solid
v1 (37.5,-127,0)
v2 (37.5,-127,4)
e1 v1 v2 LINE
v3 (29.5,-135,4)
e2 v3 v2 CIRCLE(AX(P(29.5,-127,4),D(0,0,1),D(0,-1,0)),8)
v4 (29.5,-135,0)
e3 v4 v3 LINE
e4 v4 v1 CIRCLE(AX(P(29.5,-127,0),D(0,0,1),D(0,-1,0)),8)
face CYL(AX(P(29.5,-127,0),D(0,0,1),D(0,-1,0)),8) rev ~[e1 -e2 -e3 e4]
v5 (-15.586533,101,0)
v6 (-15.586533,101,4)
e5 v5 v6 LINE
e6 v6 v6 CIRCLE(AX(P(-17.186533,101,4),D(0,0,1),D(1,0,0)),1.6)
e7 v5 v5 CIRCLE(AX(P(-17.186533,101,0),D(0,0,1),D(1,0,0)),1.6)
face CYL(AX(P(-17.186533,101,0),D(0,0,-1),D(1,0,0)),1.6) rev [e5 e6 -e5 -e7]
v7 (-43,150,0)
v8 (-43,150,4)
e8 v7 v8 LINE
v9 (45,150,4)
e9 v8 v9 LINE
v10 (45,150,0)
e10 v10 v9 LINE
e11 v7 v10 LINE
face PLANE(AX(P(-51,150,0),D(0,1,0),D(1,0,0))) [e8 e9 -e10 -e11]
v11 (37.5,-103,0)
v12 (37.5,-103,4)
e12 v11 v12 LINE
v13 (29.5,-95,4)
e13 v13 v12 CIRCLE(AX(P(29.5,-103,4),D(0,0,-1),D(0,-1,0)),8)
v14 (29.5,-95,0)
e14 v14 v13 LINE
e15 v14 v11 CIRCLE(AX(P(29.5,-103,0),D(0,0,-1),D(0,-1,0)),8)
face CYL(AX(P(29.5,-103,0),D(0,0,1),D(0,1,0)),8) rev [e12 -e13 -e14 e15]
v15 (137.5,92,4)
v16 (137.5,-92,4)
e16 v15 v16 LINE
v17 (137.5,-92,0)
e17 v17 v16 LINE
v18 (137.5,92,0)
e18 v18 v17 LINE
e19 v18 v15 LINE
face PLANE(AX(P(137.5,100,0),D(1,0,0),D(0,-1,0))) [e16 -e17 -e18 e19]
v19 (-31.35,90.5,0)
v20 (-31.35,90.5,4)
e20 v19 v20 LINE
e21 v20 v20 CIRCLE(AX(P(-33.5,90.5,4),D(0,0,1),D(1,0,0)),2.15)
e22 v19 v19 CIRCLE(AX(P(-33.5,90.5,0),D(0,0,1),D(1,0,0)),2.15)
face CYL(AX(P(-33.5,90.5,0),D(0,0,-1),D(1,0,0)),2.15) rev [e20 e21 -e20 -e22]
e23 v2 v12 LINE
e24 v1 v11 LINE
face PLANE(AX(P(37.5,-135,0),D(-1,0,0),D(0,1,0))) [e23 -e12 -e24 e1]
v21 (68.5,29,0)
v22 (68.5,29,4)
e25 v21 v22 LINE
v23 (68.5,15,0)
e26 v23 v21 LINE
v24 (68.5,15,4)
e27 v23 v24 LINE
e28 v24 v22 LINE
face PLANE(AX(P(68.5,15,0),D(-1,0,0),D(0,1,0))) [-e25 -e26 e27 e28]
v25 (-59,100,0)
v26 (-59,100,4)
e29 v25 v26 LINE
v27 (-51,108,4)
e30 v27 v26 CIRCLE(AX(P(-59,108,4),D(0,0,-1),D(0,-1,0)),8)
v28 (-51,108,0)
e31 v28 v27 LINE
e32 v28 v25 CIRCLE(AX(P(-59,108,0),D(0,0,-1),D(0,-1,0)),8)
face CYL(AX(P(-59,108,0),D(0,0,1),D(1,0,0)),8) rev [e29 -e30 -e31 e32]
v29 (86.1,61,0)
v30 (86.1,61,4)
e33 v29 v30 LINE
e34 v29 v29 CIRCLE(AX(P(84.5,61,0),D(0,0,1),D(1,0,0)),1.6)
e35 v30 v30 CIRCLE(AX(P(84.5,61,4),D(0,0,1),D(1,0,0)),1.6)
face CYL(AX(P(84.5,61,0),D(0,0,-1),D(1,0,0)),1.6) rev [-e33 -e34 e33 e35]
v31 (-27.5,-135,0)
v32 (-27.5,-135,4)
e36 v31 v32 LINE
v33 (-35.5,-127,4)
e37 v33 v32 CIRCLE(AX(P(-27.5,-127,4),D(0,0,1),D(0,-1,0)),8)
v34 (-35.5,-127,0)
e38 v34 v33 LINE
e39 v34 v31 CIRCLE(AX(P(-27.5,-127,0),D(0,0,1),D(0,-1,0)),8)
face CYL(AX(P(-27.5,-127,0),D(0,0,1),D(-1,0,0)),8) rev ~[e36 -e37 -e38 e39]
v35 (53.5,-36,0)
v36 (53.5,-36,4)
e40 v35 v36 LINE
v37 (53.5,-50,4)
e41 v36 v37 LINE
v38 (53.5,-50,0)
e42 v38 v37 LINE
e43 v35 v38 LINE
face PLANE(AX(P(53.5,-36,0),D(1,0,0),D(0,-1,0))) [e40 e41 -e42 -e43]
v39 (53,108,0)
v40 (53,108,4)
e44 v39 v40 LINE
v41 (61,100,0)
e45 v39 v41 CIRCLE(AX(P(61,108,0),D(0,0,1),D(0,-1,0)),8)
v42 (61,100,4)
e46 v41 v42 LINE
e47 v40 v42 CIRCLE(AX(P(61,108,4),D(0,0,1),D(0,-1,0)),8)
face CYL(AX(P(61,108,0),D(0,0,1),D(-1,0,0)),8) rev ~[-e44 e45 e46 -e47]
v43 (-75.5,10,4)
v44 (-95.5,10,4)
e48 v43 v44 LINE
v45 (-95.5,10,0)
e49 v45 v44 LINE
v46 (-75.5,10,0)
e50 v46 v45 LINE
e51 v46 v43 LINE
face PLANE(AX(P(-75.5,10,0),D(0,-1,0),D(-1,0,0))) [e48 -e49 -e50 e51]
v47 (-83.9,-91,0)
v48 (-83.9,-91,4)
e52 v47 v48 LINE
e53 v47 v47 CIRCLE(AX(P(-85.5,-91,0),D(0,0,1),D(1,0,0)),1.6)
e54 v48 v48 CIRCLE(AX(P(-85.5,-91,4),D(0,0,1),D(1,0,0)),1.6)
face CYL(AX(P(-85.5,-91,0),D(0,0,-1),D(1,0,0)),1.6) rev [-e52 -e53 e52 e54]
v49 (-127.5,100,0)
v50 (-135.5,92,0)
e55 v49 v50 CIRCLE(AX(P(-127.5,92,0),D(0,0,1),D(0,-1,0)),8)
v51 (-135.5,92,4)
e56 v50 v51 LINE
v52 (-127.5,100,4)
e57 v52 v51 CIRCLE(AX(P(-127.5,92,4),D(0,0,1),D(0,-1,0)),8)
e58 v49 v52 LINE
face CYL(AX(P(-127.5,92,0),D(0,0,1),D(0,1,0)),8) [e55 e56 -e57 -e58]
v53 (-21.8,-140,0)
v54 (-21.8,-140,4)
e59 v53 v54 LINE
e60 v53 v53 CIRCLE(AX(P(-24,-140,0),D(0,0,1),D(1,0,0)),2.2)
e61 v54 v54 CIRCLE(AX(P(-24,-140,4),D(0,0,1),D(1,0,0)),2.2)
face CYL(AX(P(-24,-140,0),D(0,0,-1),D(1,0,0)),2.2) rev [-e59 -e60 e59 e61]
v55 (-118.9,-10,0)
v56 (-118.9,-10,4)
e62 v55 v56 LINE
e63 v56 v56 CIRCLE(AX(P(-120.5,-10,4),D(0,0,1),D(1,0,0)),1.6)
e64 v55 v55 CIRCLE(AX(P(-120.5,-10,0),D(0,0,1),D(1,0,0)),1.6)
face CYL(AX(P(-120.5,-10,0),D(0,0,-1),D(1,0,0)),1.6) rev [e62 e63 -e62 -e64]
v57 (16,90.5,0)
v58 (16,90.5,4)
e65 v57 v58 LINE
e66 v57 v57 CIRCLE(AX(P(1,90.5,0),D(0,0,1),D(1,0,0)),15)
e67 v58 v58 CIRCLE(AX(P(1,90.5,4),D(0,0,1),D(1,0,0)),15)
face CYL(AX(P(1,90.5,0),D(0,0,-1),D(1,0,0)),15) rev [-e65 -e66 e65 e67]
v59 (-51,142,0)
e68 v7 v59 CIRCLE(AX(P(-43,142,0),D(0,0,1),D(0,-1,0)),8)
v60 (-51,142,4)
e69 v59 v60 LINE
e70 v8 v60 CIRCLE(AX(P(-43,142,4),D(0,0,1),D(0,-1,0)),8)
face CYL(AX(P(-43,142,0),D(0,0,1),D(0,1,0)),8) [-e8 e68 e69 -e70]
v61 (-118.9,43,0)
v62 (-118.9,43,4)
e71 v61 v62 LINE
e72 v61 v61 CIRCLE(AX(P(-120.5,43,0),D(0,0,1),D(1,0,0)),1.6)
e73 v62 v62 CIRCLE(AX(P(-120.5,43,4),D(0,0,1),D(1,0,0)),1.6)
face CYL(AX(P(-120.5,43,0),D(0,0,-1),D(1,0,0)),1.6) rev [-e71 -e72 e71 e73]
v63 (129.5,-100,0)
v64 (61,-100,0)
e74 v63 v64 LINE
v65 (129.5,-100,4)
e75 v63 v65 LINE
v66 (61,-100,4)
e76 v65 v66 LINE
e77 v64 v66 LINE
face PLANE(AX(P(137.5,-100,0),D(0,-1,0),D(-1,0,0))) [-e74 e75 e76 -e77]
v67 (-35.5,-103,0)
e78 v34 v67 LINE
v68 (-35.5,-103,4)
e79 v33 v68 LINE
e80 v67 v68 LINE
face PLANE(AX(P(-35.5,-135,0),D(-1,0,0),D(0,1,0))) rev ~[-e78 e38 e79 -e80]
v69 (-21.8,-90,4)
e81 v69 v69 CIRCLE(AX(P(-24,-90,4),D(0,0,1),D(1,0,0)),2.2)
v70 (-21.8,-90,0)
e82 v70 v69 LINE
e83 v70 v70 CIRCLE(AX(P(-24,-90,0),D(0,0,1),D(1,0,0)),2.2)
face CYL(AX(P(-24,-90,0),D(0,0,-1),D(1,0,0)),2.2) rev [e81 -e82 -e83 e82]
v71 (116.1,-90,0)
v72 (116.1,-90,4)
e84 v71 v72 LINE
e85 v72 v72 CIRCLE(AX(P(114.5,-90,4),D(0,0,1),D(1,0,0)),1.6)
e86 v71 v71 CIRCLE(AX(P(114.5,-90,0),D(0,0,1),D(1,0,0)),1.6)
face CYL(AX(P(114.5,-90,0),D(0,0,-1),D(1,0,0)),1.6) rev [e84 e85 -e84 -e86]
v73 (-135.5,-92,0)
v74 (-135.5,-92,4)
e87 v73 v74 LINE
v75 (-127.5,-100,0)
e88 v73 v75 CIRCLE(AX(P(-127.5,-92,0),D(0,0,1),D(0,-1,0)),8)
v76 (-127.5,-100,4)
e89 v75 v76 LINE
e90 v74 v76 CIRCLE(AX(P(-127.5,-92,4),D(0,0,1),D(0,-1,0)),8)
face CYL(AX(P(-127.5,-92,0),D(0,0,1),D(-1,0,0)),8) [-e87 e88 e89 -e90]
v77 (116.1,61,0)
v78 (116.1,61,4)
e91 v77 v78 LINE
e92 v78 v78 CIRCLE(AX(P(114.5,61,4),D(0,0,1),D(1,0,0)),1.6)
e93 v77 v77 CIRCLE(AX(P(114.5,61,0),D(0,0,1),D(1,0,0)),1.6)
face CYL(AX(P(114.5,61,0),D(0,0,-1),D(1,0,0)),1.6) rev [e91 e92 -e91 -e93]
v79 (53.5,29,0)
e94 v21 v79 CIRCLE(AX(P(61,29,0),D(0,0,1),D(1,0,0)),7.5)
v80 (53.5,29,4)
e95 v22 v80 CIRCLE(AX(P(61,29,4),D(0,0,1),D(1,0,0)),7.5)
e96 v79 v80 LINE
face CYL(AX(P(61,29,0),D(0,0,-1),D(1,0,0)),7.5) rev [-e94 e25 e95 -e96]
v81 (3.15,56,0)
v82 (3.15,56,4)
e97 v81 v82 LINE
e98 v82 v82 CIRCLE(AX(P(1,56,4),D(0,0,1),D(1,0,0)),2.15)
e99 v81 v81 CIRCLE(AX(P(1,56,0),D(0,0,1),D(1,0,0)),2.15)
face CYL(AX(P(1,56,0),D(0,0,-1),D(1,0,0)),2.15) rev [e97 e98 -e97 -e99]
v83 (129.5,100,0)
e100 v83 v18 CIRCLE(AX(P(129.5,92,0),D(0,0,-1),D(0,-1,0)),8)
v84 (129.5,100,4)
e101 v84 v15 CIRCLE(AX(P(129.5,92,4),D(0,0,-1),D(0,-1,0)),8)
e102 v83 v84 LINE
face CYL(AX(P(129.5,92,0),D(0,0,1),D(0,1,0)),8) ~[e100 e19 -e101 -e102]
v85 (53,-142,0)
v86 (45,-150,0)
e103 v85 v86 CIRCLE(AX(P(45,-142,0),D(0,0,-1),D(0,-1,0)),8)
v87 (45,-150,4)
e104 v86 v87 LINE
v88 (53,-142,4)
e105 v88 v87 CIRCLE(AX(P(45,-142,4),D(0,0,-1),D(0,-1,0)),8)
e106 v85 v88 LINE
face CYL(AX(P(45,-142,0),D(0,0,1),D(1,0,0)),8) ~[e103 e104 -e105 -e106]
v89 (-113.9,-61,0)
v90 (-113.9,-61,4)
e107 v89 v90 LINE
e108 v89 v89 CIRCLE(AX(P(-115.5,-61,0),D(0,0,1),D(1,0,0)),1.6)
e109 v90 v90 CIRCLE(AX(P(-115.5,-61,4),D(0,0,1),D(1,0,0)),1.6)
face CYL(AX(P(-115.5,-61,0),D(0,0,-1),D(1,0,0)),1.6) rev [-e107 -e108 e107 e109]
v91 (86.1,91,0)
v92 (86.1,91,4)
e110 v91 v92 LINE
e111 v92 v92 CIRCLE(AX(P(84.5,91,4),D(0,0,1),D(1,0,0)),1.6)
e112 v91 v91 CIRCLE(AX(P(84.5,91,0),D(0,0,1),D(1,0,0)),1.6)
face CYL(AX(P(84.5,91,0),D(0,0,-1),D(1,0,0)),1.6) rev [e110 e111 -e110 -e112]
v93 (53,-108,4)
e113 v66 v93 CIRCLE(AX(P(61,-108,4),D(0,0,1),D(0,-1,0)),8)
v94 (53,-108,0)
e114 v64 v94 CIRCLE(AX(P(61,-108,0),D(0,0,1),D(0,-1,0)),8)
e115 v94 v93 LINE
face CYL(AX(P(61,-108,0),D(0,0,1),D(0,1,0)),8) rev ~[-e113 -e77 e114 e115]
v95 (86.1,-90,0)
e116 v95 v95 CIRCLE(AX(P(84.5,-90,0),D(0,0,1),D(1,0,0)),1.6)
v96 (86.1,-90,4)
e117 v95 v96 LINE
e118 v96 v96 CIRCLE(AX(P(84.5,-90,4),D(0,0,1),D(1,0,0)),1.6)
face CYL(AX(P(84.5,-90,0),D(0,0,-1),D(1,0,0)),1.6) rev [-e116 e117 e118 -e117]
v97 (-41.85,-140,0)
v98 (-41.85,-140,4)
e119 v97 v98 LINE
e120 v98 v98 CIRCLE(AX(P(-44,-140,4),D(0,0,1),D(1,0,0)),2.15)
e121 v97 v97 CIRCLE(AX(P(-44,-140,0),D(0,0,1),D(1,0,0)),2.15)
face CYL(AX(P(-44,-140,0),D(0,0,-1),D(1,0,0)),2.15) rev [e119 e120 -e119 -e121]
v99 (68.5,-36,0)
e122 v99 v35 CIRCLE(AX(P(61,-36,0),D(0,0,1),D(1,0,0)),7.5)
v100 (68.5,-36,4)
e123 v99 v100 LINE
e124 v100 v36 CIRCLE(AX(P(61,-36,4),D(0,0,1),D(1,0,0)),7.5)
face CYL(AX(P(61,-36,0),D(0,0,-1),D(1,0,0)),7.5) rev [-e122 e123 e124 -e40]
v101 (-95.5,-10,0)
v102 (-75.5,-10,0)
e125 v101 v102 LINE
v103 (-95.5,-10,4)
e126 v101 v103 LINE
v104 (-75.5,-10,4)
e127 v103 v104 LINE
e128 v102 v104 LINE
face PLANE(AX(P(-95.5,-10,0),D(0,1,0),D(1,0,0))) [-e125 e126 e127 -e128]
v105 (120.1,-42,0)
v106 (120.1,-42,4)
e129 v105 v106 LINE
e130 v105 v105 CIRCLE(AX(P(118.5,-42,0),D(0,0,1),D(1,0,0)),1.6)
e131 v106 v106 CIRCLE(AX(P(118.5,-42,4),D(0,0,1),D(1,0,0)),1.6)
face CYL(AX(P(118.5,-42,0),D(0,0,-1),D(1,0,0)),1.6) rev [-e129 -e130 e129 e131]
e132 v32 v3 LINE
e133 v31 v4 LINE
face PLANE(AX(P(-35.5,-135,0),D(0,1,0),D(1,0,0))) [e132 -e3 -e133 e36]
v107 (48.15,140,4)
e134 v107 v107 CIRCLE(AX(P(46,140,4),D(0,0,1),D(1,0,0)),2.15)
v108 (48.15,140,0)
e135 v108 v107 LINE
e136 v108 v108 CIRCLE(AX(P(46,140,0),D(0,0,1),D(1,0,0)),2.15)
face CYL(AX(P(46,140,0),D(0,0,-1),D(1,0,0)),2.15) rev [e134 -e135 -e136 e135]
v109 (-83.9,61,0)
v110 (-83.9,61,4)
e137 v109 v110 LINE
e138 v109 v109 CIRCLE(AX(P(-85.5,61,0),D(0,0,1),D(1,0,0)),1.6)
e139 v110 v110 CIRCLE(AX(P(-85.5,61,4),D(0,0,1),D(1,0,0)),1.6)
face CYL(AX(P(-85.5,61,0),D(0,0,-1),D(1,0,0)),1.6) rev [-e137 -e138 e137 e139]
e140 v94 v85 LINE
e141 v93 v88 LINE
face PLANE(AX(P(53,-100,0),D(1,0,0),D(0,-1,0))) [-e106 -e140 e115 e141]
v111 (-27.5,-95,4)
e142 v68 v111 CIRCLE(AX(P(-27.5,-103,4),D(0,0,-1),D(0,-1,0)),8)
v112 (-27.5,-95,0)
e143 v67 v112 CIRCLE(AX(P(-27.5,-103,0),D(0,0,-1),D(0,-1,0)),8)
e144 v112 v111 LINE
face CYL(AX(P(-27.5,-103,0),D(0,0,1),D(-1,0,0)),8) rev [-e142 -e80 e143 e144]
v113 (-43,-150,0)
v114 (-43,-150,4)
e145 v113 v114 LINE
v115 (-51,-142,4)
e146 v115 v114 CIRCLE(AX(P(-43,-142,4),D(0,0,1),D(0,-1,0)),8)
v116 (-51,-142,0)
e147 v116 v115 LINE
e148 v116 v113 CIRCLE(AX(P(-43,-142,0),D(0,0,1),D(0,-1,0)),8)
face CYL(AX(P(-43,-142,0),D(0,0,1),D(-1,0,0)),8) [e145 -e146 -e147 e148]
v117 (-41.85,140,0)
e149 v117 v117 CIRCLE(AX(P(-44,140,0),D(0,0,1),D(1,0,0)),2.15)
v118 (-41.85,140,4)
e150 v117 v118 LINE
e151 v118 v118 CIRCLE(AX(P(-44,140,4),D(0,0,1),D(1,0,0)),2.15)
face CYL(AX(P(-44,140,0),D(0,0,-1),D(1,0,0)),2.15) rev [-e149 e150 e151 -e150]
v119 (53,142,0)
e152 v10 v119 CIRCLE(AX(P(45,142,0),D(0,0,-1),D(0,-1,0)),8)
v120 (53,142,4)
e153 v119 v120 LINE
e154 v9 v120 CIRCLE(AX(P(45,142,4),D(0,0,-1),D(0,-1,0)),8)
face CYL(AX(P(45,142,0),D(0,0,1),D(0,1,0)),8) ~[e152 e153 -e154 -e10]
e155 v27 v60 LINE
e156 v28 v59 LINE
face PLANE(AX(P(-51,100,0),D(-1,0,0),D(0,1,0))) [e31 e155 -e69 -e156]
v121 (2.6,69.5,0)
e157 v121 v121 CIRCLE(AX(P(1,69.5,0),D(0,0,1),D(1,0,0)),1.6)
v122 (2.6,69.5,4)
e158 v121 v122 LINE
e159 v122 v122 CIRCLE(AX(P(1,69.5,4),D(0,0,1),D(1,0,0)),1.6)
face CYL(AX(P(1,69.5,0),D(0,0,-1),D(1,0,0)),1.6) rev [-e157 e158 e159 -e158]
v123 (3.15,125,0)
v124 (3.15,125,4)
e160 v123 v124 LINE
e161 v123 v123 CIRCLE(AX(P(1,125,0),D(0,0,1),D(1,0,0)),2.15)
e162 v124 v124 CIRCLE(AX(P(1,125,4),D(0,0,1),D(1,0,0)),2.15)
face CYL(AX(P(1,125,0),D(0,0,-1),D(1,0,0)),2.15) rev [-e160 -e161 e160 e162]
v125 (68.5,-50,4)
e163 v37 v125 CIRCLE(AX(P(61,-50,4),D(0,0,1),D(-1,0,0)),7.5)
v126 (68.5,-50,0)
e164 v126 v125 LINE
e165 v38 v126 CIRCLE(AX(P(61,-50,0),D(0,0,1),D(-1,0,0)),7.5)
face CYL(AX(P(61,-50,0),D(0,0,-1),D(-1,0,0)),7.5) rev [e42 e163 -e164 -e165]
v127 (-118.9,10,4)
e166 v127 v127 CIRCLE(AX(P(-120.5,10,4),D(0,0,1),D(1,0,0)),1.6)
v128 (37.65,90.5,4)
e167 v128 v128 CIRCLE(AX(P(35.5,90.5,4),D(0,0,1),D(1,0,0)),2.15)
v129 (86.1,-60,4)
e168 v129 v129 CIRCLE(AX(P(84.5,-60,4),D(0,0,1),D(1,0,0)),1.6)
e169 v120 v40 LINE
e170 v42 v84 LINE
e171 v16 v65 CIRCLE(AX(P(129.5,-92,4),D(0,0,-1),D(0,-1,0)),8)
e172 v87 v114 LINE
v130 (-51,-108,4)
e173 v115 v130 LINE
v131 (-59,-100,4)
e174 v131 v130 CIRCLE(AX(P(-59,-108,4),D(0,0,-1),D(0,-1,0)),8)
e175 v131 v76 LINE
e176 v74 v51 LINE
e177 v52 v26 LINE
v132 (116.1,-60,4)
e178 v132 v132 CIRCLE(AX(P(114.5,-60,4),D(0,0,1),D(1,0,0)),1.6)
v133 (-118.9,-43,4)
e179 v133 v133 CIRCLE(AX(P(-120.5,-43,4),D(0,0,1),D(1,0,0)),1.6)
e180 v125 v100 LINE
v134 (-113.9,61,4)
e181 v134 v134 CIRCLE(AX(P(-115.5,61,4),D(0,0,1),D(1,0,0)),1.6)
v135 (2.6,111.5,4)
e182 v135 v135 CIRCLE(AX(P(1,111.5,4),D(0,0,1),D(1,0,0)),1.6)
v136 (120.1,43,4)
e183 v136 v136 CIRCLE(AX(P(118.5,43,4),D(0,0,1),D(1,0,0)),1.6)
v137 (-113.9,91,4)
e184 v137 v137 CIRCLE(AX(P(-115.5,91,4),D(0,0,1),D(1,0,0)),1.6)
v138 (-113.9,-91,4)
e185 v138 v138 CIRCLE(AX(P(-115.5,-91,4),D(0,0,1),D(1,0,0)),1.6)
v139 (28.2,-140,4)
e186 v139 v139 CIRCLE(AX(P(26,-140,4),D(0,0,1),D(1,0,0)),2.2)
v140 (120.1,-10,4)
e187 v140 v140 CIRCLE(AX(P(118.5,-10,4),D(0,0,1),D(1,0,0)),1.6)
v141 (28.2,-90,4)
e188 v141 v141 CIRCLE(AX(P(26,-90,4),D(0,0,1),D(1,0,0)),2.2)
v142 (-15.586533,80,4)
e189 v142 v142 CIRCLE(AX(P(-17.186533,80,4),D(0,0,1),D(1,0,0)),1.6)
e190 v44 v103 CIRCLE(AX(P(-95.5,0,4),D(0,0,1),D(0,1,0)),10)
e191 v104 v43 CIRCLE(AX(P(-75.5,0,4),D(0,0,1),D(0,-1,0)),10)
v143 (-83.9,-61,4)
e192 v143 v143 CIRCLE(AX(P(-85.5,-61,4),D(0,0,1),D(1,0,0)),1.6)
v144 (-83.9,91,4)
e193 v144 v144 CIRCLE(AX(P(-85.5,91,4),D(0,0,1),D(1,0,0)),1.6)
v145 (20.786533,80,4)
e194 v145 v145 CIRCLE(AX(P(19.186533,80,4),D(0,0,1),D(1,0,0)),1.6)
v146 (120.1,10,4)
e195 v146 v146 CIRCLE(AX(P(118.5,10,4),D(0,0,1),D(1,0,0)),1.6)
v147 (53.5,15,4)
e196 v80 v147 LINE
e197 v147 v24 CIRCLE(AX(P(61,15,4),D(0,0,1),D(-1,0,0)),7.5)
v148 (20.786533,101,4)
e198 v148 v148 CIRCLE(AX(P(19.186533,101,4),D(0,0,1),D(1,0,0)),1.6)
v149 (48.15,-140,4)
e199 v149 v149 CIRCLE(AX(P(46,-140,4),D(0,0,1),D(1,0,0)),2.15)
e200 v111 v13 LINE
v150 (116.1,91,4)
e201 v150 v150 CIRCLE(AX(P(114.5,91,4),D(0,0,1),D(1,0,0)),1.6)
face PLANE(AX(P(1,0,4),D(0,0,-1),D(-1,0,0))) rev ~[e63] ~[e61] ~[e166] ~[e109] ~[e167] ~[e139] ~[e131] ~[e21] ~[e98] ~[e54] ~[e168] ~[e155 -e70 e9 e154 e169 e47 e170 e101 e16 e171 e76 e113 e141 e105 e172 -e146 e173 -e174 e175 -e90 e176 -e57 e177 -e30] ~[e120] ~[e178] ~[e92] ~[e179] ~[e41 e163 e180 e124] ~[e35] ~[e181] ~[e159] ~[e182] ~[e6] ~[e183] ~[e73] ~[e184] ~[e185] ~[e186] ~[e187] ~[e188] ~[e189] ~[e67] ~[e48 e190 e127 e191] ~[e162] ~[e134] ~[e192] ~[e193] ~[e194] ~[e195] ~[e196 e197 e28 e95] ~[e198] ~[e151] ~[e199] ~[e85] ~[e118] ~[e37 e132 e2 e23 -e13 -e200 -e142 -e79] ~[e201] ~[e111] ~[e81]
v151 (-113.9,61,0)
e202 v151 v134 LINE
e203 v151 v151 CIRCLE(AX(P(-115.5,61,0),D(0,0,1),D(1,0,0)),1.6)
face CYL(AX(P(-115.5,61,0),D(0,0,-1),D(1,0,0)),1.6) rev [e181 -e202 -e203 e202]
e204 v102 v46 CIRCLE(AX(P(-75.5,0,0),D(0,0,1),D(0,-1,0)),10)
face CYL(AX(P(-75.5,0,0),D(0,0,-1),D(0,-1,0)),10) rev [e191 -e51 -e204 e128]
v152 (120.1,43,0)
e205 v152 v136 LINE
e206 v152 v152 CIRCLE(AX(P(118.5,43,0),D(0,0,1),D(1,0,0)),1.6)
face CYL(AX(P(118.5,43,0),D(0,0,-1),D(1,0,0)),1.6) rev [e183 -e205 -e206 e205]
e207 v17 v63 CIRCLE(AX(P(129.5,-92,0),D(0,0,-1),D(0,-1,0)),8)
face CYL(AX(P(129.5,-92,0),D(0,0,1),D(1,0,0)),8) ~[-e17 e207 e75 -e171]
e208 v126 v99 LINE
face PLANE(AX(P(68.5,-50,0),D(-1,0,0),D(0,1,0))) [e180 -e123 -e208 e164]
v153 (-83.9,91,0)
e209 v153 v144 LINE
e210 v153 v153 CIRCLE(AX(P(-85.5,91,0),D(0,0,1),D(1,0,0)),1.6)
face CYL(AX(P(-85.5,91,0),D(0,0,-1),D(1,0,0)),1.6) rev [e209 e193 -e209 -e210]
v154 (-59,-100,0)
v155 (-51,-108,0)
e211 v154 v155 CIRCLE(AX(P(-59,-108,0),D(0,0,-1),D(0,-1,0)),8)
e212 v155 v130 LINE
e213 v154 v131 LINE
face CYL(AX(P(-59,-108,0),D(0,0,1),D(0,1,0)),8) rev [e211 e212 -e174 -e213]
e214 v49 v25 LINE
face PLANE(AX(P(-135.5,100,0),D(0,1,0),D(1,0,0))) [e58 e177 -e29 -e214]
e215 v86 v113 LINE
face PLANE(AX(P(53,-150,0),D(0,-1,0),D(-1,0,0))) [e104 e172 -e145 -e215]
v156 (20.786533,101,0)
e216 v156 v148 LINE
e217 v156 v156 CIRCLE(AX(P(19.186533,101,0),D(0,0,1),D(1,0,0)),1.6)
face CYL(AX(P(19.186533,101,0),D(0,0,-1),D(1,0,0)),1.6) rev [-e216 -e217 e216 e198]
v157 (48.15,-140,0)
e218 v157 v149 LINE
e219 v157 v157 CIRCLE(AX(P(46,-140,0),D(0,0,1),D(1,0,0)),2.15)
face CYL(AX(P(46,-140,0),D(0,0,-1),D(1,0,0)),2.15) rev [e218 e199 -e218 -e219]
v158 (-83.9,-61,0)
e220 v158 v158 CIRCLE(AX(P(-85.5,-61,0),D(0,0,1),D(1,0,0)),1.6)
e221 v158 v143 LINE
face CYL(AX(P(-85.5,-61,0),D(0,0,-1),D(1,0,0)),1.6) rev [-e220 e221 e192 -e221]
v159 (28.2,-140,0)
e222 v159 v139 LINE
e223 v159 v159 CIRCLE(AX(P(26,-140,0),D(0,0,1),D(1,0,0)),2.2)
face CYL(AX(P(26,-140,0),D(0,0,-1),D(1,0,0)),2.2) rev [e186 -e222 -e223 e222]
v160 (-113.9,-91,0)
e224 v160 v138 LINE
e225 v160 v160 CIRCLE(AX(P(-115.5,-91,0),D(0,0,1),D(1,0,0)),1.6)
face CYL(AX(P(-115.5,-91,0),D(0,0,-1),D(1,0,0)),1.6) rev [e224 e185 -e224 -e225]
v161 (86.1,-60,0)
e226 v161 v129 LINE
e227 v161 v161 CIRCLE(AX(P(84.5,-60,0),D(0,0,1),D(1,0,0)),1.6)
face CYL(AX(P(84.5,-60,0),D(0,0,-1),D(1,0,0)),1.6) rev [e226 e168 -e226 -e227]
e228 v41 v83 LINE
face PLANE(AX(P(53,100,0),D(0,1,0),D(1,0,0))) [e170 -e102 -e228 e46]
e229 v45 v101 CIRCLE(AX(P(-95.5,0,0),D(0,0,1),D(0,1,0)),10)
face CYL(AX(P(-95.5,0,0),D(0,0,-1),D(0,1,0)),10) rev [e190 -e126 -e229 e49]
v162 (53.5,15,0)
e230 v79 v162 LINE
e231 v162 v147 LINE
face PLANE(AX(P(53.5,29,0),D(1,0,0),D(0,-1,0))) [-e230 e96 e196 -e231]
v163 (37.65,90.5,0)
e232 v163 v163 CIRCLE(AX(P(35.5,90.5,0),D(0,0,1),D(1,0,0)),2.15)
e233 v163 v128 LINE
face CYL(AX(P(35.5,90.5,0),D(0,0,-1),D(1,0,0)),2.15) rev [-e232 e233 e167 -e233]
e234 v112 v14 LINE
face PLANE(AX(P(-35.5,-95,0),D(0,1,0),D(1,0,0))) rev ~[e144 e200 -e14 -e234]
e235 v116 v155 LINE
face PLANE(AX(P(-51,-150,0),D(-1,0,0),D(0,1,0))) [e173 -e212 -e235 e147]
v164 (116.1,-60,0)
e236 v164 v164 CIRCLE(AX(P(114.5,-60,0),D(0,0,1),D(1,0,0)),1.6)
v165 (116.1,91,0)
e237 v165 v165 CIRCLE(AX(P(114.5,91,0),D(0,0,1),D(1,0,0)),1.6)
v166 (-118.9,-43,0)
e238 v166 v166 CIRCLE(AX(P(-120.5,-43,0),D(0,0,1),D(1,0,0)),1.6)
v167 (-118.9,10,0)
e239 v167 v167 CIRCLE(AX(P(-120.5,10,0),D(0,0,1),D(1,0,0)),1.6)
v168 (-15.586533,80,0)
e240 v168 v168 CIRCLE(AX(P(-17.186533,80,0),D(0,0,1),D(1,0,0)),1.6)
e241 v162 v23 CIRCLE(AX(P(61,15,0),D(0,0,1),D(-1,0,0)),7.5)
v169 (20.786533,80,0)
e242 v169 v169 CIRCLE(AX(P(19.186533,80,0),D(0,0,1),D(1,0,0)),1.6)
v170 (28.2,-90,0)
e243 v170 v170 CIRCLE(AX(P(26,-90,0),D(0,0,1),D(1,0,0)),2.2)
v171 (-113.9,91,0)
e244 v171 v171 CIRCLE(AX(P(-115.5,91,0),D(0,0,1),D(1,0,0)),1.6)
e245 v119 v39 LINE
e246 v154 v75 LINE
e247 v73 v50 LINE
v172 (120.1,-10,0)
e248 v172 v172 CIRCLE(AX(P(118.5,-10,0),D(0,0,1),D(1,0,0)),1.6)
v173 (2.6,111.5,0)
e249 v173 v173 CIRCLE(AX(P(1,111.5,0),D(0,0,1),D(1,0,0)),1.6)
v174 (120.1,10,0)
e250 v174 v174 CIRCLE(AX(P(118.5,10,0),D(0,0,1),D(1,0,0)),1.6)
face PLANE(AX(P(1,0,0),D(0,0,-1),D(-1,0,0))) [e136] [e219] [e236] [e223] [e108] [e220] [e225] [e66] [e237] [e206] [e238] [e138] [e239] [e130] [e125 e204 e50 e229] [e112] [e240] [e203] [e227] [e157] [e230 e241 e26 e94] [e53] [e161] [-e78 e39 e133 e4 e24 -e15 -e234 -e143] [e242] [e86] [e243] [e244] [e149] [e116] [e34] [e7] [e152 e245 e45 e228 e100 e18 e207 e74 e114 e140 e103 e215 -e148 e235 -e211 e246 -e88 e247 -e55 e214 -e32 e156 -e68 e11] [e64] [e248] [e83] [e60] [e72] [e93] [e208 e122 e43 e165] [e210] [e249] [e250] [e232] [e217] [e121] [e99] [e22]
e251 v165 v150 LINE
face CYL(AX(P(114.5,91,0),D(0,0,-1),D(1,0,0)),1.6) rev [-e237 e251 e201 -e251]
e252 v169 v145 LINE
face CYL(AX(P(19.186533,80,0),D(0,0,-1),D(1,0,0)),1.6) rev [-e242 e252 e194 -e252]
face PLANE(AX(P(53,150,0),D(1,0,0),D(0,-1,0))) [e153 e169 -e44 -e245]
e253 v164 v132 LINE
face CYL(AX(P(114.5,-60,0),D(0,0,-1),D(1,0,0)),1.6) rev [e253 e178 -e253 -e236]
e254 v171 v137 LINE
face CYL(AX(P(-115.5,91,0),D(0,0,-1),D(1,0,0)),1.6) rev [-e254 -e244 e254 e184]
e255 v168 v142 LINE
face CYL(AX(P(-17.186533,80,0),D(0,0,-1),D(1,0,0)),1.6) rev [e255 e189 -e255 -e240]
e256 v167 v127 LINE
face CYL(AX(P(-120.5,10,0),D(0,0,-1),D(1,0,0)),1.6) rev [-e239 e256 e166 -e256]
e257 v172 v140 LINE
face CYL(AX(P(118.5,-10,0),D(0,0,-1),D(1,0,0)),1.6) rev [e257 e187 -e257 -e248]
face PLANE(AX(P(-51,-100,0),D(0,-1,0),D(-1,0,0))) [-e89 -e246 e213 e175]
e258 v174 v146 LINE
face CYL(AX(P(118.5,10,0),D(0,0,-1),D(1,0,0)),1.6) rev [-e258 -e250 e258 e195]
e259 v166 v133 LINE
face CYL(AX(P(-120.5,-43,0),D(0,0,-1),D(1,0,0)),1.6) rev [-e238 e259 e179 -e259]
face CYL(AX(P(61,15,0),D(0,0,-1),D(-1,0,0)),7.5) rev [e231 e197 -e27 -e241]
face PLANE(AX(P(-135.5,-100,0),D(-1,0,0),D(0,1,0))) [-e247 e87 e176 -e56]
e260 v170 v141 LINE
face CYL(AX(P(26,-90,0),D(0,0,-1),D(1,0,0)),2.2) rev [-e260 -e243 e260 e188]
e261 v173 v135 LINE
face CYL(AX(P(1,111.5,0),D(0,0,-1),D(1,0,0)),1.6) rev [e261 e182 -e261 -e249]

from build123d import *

# Parameters (mm, degrees)
SKETCH_281X300_25_R   = 1.6
SKETCH_281X300_25_R_2 = 15
SKETCH_281X300_25_R_3 = 2.15
SKETCH_281X300_25_R_4 = 2.2
SKETCH_281X300_25_W   = 73
SKETCH_281X300_25_H   = 40
F_4MM_DEPTH           = 4
FILLET_1_R            = 8


with BuildPart() as part:
    # Sketch 281x300__25 → 4mm (new body)
    with BuildSketch(Plane.XY):
        Polygon((-51, 150), (53, 150), (53, 100), (137.5, 100), (137.5, -100), (53, -100), (53, -150), (-51, -150), (-51, -100), (-135.5, -100), (-135.5, 100), (-51, 100), align=None)
        with Locations((84.5, -60)):
            Circle(SKETCH_281X300_25_R, mode=Mode.SUBTRACT)
        with Locations((114.5, -60)):
            Circle(SKETCH_281X300_25_R, mode=Mode.SUBTRACT)
        with Locations((84.5, 61)):
            Circle(SKETCH_281X300_25_R, mode=Mode.SUBTRACT)
        with Locations((1, 90.5)):
            Circle(SKETCH_281X300_25_R_2, mode=Mode.SUBTRACT)
        with Locations((1, 125)):
            Circle(SKETCH_281X300_25_R_3, mode=Mode.SUBTRACT)
        with Locations((-33.5, 90.5)):
            Circle(SKETCH_281X300_25_R_3, mode=Mode.SUBTRACT)
        with Locations((35.5, 90.5)):
            Circle(SKETCH_281X300_25_R_3, mode=Mode.SUBTRACT)
        with Locations((-44, 140)):
            Circle(SKETCH_281X300_25_R_3, mode=Mode.SUBTRACT)
        with Locations((114.5, 61)):
            Circle(SKETCH_281X300_25_R, mode=Mode.SUBTRACT)
        with Locations((1, 56)):
            Circle(SKETCH_281X300_25_R_3, mode=Mode.SUBTRACT)
        with Locations((26, -140)):
            Circle(SKETCH_281X300_25_R_4, mode=Mode.SUBTRACT)
        with Locations((-24, -140)):
            Circle(SKETCH_281X300_25_R_4, mode=Mode.SUBTRACT)
        with Locations((-24, -90)):
            Circle(SKETCH_281X300_25_R_4, mode=Mode.SUBTRACT)
        with Locations((26, -90)):
            Circle(SKETCH_281X300_25_R_4, mode=Mode.SUBTRACT)
        with Locations((1, 111.5)):
            Circle(SKETCH_281X300_25_R, mode=Mode.SUBTRACT)
        with Locations((84.5, -90)):
            Circle(SKETCH_281X300_25_R, mode=Mode.SUBTRACT)
        with Locations((84.5, 91)):
            Circle(SKETCH_281X300_25_R, mode=Mode.SUBTRACT)
        with Locations((114.5, 91)):
            Circle(SKETCH_281X300_25_R, mode=Mode.SUBTRACT)
        with Locations((114.5, -90)):
            Circle(SKETCH_281X300_25_R, mode=Mode.SUBTRACT)
        with Locations((118.5, 10)):
            Circle(SKETCH_281X300_25_R, mode=Mode.SUBTRACT)
        with Locations((118.5, -10)):
            Circle(SKETCH_281X300_25_R, mode=Mode.SUBTRACT)
        with Locations((-120.5, 10)):
            Circle(SKETCH_281X300_25_R, mode=Mode.SUBTRACT)
        with Locations((-120.5, -10)):
            Circle(SKETCH_281X300_25_R, mode=Mode.SUBTRACT)
        with Locations((-115.5, -91)):
            Circle(SKETCH_281X300_25_R, mode=Mode.SUBTRACT)
        with Locations((-85.5, -91)):
            Circle(SKETCH_281X300_25_R, mode=Mode.SUBTRACT)
        with Locations((-115.5, 91)):
            Circle(SKETCH_281X300_25_R, mode=Mode.SUBTRACT)
        with Locations((-85.5, 91)):
            Circle(SKETCH_281X300_25_R, mode=Mode.SUBTRACT)
        with Locations((-85.5, 61)):
            Circle(SKETCH_281X300_25_R, mode=Mode.SUBTRACT)
        with Locations((-115.5, 61)):
            Circle(SKETCH_281X300_25_R, mode=Mode.SUBTRACT)
        with Locations((-85.5, -61)):
            Circle(SKETCH_281X300_25_R, mode=Mode.SUBTRACT)
        with Locations((-115.5, -61)):
            Circle(SKETCH_281X300_25_R, mode=Mode.SUBTRACT)
        with Locations((118.5, 43)):
            Circle(SKETCH_281X300_25_R, mode=Mode.SUBTRACT)
        with Locations((118.5, -42)):
            Circle(SKETCH_281X300_25_R, mode=Mode.SUBTRACT)
        with Locations((-120.5, 43)):
            Circle(SKETCH_281X300_25_R, mode=Mode.SUBTRACT)
        with Locations((46, 140)):
            Circle(SKETCH_281X300_25_R_3, mode=Mode.SUBTRACT)
        with Locations((-44, -140)):
            Circle(SKETCH_281X300_25_R_3, mode=Mode.SUBTRACT)
        with Locations((46, -140)):
            Circle(SKETCH_281X300_25_R_3, mode=Mode.SUBTRACT)
        with Locations((19.186533479, 101)):
            Circle(SKETCH_281X300_25_R, mode=Mode.SUBTRACT)
        with Locations((19.186533479, 80)):
            Circle(SKETCH_281X300_25_R, mode=Mode.SUBTRACT)
        with Locations((1, 69.5)):
            Circle(SKETCH_281X300_25_R, mode=Mode.SUBTRACT)
        with Locations((-17.186533479, 80)):
            Circle(SKETCH_281X300_25_R, mode=Mode.SUBTRACT)
        with Locations((-17.186533479, 101)):
            Circle(SKETCH_281X300_25_R, mode=Mode.SUBTRACT)
        with Locations((-120.5, -43)):
            Circle(SKETCH_281X300_25_R, mode=Mode.SUBTRACT)
        with BuildLine():
            Line((68.5, -50), (68.5, -36))
            ThreePointArc((68.5, -36), (61, -28.5), (53.5, -36))
            Line((53.5, -36), (53.5, -50))
            ThreePointArc((53.5, -50), (61, -57.5), (68.5, -50))
        make_face(mode=Mode.SUBTRACT)
        with BuildLine():
            Line((-95.5, -10), (-75.5, -10))
            ThreePointArc((-75.5, -10), (-65.5, 0), (-75.5, 10))
            Line((-75.5, 10), (-95.5, 10))
            ThreePointArc((-95.5, 10), (-105.5, 0), (-95.5, -10))
        make_face(mode=Mode.SUBTRACT)
        with Locations((1, -115)):
            Rectangle(SKETCH_281X300_25_W, SKETCH_281X300_25_H, mode=Mode.SUBTRACT)
        with BuildLine():
            Line((53.5, 29), (53.5, 15))
            ThreePointArc((53.5, 15), (61, 7.5), (68.5, 15))
            Line((68.5, 15), (68.5, 29))
            ThreePointArc((68.5, 29), (61, 36.5), (53.5, 29))
        make_face(mode=Mode.SUBTRACT)
    extrude(amount=F_4MM_DEPTH)

    # Fillet 1
    fillet_1_edges = [part.edges().sort_by_distance(p)[0] for p in [
        (53, -150, 2),
        (-51, -150, 2),
        (-51, -100, 2),
        (-135.5, -100, 2),
        (-135.5, 100, 2),
        (-51, 100, 2),
        (-51, 150, 2),
        (53, 150, 2),
        (53, 100, 2),
        (137.5, 100, 2),
        (137.5, -100, 2),
        (53, -100, 2),
        (-35.5, -95, 2),
        (-35.5, -135, 2),
        (37.5, -135, 2),
        (37.5, -95, 2),
    ]]
    fillet(fillet_1_edges, radius=FILLET_1_R)


solid = part.part
